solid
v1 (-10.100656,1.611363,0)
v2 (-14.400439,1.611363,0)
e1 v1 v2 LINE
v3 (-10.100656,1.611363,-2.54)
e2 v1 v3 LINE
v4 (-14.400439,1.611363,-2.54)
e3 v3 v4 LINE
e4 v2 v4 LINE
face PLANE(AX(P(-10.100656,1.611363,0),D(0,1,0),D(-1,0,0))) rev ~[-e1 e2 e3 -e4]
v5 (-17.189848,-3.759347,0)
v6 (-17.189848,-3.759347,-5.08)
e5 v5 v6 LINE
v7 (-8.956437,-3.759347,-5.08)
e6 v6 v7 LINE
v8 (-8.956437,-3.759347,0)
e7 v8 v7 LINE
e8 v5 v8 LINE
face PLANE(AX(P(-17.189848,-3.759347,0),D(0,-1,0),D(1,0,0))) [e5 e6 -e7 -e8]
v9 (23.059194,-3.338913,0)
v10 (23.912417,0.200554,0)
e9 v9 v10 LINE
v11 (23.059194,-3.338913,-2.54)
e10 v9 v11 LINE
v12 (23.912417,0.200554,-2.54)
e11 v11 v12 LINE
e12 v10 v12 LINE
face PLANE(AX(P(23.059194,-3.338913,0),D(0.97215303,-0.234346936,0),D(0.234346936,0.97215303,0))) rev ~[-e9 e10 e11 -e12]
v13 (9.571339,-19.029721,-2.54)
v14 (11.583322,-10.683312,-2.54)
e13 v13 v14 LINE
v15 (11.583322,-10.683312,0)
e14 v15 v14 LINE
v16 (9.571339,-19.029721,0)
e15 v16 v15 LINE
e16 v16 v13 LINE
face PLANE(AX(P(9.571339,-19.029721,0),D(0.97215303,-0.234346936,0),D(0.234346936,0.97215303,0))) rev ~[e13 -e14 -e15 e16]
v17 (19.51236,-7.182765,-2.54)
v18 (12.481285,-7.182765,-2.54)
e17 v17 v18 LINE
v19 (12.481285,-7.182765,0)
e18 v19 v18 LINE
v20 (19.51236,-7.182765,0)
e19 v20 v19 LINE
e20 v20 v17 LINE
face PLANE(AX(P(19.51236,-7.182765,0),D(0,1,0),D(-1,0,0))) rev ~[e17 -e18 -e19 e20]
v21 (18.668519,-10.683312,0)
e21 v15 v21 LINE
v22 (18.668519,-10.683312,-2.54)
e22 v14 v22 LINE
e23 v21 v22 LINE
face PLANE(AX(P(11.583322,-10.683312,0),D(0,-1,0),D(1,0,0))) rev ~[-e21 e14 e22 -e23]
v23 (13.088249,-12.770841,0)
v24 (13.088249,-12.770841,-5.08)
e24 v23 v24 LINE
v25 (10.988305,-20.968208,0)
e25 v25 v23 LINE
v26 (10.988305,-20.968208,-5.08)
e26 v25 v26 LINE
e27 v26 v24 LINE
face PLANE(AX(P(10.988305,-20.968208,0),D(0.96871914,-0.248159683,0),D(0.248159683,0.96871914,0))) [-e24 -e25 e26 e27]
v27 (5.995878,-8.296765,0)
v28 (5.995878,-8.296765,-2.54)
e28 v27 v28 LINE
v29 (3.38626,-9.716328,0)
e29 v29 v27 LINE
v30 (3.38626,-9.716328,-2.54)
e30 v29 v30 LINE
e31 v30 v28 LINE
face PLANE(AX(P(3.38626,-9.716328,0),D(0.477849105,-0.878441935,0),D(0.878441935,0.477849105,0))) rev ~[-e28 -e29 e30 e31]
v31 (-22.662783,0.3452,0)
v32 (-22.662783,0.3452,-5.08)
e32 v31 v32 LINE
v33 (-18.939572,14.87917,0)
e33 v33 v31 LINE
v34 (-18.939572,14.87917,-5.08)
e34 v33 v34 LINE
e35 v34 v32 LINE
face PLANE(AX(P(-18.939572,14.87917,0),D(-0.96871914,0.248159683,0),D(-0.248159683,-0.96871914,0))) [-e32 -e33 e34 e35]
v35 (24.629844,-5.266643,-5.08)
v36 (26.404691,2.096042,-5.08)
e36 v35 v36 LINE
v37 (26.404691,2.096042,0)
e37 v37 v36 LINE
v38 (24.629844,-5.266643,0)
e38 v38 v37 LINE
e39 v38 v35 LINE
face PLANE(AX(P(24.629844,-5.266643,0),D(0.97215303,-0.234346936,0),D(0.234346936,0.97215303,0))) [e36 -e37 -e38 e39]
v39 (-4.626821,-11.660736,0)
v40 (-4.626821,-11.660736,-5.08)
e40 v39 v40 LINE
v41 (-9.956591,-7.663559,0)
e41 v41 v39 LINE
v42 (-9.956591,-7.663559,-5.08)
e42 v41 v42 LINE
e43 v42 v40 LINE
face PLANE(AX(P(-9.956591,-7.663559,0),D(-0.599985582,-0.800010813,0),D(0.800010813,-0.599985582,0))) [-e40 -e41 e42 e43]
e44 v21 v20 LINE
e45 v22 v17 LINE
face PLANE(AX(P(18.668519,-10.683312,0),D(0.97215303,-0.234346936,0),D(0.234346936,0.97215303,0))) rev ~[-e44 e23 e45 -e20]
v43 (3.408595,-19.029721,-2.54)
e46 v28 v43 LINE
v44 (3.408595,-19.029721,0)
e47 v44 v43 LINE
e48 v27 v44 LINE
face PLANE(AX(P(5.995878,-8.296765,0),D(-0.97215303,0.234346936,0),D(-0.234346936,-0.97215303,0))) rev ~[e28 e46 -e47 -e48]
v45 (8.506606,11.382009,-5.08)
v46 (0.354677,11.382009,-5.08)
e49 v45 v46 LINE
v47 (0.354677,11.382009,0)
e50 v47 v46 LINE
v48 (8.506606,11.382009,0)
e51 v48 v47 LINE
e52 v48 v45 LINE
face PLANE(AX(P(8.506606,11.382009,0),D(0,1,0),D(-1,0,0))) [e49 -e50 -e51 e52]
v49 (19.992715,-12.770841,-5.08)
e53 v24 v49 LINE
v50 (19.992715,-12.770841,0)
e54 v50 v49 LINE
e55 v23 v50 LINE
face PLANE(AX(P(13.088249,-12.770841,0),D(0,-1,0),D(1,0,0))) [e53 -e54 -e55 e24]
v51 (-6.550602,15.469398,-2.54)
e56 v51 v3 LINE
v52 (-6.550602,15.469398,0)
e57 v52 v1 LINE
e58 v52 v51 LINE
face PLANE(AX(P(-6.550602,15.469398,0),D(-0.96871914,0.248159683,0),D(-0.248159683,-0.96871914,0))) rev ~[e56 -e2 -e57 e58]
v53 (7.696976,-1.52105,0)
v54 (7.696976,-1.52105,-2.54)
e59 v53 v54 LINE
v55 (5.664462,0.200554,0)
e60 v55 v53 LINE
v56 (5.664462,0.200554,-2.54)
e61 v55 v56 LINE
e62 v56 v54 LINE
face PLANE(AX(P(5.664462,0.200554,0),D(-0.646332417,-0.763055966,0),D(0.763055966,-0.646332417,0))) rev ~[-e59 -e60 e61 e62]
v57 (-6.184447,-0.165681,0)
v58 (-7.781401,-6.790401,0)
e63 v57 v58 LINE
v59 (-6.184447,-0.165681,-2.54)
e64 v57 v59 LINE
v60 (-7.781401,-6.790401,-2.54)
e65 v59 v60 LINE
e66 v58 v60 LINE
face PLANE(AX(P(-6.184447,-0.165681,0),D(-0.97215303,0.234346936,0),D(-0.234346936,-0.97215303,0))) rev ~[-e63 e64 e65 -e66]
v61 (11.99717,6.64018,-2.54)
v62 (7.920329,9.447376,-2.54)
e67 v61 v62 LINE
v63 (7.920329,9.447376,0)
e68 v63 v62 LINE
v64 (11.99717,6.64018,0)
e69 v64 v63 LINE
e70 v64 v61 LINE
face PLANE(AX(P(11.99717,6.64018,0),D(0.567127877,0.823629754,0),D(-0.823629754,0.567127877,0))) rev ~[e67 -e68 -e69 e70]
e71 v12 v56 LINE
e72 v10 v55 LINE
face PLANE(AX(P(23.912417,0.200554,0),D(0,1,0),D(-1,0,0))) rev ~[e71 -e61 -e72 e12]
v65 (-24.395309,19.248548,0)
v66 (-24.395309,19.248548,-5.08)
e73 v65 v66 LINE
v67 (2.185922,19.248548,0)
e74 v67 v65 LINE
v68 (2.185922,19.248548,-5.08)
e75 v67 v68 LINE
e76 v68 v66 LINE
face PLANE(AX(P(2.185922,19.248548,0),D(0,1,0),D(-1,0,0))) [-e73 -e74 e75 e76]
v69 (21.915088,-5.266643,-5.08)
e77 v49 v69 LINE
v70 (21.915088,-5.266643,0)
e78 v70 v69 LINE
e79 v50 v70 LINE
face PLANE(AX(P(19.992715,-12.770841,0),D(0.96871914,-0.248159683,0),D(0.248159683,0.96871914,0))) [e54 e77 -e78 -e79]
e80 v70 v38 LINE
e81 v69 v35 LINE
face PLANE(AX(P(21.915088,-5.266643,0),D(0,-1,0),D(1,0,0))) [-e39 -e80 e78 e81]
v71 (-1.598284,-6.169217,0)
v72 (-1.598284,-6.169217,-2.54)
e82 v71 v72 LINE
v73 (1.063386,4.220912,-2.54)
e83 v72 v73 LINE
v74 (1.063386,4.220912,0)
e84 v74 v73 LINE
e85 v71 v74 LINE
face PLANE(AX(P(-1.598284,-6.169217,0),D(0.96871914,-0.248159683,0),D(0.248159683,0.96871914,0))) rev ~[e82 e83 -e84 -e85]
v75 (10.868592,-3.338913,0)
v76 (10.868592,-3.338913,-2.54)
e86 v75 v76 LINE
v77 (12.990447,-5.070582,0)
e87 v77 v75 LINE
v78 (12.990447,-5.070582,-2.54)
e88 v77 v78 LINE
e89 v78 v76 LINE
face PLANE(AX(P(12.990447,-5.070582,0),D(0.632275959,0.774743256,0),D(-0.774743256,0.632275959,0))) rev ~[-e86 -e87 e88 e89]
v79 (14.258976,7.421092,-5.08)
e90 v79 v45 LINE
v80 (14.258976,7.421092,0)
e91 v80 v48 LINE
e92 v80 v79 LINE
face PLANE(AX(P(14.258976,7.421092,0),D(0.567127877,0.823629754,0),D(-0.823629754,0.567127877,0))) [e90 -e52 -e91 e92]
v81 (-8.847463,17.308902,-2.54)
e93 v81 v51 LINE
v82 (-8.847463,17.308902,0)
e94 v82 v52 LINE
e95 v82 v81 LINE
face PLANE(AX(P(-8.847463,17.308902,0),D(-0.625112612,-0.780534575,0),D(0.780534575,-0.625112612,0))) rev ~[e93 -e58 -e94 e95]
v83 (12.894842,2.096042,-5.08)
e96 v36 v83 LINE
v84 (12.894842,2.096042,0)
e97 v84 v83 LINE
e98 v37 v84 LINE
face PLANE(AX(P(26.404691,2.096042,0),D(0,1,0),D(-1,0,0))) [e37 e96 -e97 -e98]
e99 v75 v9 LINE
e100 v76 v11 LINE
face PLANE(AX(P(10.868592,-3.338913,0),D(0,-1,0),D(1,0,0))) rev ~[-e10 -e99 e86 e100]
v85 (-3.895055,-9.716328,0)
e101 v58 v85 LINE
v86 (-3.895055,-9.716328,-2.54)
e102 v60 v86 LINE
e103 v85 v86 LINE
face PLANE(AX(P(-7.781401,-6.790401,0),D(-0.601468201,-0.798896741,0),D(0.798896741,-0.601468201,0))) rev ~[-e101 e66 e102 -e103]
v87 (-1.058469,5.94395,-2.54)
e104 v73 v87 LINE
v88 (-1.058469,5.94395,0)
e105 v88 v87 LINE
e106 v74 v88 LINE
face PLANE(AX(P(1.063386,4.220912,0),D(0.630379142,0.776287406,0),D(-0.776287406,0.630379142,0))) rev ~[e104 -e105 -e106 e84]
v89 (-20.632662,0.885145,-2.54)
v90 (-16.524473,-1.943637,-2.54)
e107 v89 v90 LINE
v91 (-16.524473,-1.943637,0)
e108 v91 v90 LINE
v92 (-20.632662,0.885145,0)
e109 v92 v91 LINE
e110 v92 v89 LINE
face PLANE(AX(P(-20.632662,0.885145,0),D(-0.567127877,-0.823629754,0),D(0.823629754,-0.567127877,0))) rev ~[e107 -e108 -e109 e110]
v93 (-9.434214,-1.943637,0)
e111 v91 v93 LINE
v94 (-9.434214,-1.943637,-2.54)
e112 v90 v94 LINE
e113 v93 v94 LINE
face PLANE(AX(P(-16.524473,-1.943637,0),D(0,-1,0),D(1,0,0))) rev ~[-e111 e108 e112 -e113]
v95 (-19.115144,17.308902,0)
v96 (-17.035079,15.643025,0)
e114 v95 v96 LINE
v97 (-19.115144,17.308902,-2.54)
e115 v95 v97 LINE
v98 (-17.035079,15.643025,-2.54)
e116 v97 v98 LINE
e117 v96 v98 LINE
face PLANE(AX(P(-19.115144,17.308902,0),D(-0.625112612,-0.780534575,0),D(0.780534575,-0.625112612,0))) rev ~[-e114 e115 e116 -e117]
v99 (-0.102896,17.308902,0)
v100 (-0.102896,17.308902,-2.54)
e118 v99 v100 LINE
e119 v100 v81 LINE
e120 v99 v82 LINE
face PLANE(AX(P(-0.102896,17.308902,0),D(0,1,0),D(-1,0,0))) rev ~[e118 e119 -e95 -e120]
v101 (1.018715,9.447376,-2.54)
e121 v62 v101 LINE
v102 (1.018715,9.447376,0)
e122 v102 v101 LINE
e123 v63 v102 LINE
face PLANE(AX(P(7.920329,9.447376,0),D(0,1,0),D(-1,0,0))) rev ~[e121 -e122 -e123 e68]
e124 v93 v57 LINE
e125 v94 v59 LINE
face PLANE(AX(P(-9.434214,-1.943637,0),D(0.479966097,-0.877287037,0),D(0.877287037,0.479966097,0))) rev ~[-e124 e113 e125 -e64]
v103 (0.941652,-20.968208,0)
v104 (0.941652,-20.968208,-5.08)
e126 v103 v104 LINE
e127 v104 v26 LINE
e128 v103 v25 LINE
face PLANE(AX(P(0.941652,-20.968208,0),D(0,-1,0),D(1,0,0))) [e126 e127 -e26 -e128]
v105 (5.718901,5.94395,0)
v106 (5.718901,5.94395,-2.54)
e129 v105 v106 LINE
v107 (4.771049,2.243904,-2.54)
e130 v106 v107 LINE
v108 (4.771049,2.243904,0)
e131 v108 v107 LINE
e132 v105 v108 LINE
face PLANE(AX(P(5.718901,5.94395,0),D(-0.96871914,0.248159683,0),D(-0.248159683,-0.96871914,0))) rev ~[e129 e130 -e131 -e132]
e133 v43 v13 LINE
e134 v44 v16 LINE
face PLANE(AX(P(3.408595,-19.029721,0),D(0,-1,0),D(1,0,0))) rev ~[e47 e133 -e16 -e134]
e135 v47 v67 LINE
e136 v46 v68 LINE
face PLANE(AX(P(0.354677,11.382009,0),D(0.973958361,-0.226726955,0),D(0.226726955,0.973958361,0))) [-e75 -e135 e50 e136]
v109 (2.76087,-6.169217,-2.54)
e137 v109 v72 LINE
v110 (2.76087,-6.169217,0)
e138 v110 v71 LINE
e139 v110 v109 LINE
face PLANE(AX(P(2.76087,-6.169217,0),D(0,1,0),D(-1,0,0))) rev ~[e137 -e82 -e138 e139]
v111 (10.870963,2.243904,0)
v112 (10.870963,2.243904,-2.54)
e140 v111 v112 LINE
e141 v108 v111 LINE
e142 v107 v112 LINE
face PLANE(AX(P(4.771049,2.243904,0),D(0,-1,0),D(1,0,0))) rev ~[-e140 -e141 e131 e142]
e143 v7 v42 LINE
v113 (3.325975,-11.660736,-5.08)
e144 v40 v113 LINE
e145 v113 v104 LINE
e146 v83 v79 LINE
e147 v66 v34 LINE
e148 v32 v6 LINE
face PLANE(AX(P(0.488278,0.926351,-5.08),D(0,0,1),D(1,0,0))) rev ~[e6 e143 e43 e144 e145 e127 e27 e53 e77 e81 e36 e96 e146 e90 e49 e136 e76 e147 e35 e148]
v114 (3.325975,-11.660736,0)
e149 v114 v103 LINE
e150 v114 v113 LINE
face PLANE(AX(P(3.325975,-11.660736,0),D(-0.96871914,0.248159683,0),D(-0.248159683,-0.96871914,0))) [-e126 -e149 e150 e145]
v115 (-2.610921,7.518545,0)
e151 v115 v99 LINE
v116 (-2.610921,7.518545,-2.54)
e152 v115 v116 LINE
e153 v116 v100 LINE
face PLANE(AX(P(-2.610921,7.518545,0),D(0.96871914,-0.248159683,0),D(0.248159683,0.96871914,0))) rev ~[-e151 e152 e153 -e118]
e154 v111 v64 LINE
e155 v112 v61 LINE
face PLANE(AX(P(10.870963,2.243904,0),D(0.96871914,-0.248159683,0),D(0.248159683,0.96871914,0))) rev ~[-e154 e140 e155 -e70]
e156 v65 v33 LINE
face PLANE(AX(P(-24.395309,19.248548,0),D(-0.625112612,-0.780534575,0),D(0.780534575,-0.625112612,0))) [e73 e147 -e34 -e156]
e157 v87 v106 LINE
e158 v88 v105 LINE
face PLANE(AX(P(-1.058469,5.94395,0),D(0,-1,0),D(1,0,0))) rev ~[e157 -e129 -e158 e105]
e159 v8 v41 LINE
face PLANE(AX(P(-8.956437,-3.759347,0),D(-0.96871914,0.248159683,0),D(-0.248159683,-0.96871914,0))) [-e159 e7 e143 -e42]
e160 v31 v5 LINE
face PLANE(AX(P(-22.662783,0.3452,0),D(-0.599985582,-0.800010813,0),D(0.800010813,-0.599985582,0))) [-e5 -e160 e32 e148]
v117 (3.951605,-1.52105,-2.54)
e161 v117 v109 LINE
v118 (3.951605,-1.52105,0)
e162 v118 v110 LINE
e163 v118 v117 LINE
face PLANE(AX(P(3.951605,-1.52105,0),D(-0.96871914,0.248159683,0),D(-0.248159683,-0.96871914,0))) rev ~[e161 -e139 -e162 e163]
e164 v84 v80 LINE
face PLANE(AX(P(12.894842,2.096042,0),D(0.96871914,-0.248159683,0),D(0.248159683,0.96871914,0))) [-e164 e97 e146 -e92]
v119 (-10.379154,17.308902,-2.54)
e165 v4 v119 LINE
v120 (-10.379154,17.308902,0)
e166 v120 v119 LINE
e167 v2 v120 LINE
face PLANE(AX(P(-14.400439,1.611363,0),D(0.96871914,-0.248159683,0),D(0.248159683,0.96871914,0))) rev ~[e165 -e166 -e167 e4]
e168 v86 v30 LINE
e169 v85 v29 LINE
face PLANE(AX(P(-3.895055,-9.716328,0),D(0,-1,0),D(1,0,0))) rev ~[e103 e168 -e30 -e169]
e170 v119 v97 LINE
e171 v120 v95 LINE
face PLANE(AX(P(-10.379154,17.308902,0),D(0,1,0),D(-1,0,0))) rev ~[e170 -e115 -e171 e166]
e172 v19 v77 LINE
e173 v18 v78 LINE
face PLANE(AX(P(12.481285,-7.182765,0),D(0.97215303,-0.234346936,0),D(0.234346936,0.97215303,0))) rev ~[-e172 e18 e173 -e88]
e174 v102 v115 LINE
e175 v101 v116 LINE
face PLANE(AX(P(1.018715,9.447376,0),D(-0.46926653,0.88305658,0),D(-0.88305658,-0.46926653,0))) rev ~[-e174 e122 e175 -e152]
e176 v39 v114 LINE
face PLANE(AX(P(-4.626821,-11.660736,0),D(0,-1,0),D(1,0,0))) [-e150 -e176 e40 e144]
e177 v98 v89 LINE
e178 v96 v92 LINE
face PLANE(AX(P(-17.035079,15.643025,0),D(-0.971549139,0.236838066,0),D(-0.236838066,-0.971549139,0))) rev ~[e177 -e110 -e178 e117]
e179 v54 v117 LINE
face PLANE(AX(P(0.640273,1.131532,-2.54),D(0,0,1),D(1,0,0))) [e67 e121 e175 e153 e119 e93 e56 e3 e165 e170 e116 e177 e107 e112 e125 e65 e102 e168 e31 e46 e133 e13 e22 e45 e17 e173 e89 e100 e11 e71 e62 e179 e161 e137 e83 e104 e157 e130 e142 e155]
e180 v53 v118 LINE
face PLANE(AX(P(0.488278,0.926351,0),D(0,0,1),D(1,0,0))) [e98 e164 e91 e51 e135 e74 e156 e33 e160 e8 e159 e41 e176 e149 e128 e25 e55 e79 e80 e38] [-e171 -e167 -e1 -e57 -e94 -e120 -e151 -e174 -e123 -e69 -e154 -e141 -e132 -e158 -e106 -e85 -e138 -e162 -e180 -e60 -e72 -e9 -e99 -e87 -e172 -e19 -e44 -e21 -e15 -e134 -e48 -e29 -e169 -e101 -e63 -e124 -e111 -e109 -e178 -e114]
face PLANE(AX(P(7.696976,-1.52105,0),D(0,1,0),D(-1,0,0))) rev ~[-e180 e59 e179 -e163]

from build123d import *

# Parameters (mm, degrees)
F1_DEPTH = 5.08
F2_DEPTH = 2.54


with BuildPart() as f1:
    # F0 (on Top) → F1 (new body)
    with BuildSketch(Plane.XY):
        Polygon((2.1859223297, 19.248547896), (-24.3953090747, 19.248547896), (-18.9395717811, 14.8791704217), (-22.6627825954, 0.3451996698), (-17.1898484699, -3.7593468121), (-8.9564369545, -3.7593468121), (-9.9565906694, -7.6635589463), (-4.6268214747, -11.6607357615), (3.3259746574, -11.6607357615), (0.9416517448, -20.9682075121), (10.988304789, -20.9682075121), (13.0882485999, -12.7708414613), (19.9927147226, -12.7708414613), (21.9150878042, -5.2666426563), (24.6298443066, -5.2666426563), (26.4046909253, 2.0960416775), (12.8948415761, 2.0960416775), (14.2589756145, 7.4210918036), (8.5066062772, 11.382008699), (0.3546772284, 11.382008699), align=None)
        Polygon((-20.6326617241, 0.8851447814), (-17.0350794991, 15.643025438), (-19.1151439831, 17.3089023695), (-10.3791536142, 17.3089023695), (-14.4004393661, 1.6113626868), (-10.1006558786, 1.6113626868), (-6.550601553, 15.469397676), (-8.847462929, 17.3089023695), (-0.1028961172, 17.3089023695), (-2.6109213046, 7.5185449236), (1.0187151687, 9.4473759333), (7.9203285277, 9.4473759333), (11.997169684, 6.6401797905), (10.8709626259, 2.2439043015), (4.7710491344, 2.2439043015), (5.7189009901, 5.9439502658), (-1.0584690608, 5.9439502658), (1.063386056, 4.2209116121), (-1.5982844269, -6.1692174671), (2.7608703822, -6.1692174671), (3.9516054808, -1.521049539), (7.6969756434, -1.521049539), (5.6644616028, 0.2005538166), (23.9124173919, 0.2005538166), (23.0591944391, -3.3389133138), (10.8685915669, -3.3389133138), (12.9904473821, -5.0705817218), (12.4812849915, -7.1827653424), (19.5123602947, -7.1827653424), (18.668519463, -10.6833121536), (11.5833220383, -10.6833121536), (9.571338977, -19.0297213635), (3.4085946778, -19.0297213635), (5.9958781117, -8.2967650591), (3.3862596999, -9.7163282335), (-3.8950548818, -9.7163282335), (-7.7814006557, -6.790401414), (-6.184447335, -0.1656806791), (-9.4342138618, -1.9436366856), (-16.5244725843, -1.9436366856), align=None, mode=Mode.SUBTRACT)
        Polygon((-19.1151439831, 17.3089023695), (-17.0350794991, 15.643025438), (-20.6326617241, 0.8851447814), (-16.5244725843, -1.9436366856), (-9.4342138618, -1.9436366856), (-6.184447335, -0.1656806791), (-7.7814006557, -6.790401414), (-3.8950548818, -9.7163282335), (3.3862596999, -9.7163282335), (5.9958781117, -8.2967650591), (3.4085946778, -19.0297213635), (9.571338977, -19.0297213635), (11.5833220383, -10.6833121536), (18.668519463, -10.6833121536), (19.5123602947, -7.1827653424), (12.4812849915, -7.1827653424), (12.9904473821, -5.0705817218), (10.8685915669, -3.3389133138), (23.0591944391, -3.3389133138), (23.9124173919, 0.2005538166), (5.6644616028, 0.2005538166), (7.6969756434, -1.521049539), (3.9516054808, -1.521049539), (2.7608703822, -6.1692174671), (-1.5982844269, -6.1692174671), (1.063386056, 4.2209116121), (-1.0584690608, 5.9439502658), (5.7189009901, 5.9439502658), (4.7710491344, 2.2439043015), (10.8709626259, 2.2439043015), (11.997169684, 6.6401797905), (7.9203285277, 9.4473759333), (1.0187151687, 9.4473759333), (-2.6109213046, 7.5185449236), (-0.1028961172, 17.3089023695), (-8.847462929, 17.3089023695), (-6.550601553, 15.469397676), (-10.1006558786, 1.6113626868), (-14.4004393661, 1.6113626868), (-10.3791536142, 17.3089023695), align=None)
        Polygon((-1.4470629355, 6.2614502658), (-1.7529480132, 6.0988993801), (0.7053412177, 4.1026615912), (-2.007371729, -6.4867174671), (3.0072878326, -6.4867174671), (4.1980229312, -1.838549539), (8.4534338099, -1.838549539), (8.4722807786, -1.7616673308), (6.530533387, -0.1169461834), (23.509286259, -0.1169461834), (22.8091362278, -3.0214133138), (9.9773968665, -3.0214133138), (12.6349923897, -5.1903044212), (12.0781538585, -7.5002653424), (19.1092291617, -7.5002653424), (18.4184612518, -10.3658121536), (11.333263827, -10.3658121536), (9.3212807658, -18.7122213635), (3.8117258108, -18.7122213635), (6.4720393651, -7.6763105851), (3.305492183, -9.3988282335), (-3.788897508, -9.3988282335), (-7.4238874577, -6.662140558), (-5.7077402086, 0.4570382668), (-9.5153891072, -1.6261366856), (-16.4257337365, -1.6261366856), (-20.2723691619, 1.0225463793), (-16.6786986539, 15.7643805222), (-18.2107953637, 16.9914023695), (-10.7882409164, 16.9914023695), (-14.8095266683, 1.2938626868), (-9.8542384282, 1.2938626868), (-6.1921799664, 15.5891183762), (-7.9431143096, 16.9914023695), (-0.5119834194, 16.9914023695), (-3.0969436407, 6.9007203948), (1.0978376576, 9.1298759333), (7.8215896798, 9.1298759333), (11.6346173395, 6.5043342141), (10.6245451755, 2.5614043015), (5.1801364366, 2.5614043015), (6.1279882922, 6.2614502658), align=None, mode=Mode.SUBTRACT)
        Polygon((-5.9958964755, -7.1322803998), (-6.8447431549, -6.4807981253), (-3.836085248, 6.0001668234), (1.1804265973, 8.6659995258), (7.5871106237, 8.6659995258), (8.8139669276, 7.8212213871), (1.4880838571, 7.8212213871), (-1.4470629355, 6.2614502658), (6.1279882922, 6.2614502658), (5.1801364366, 2.5614043015), (10.6245451755, 2.5614043015), (11.6346173395, 6.5043342141), (7.8215896798, 9.1298759333), (1.0978376576, 9.1298759333), (-3.0969436407, 6.9007203948), (-0.5119834194, 16.9914023695), (-7.9431143096, 16.9914023695), (-6.1921799664, 15.5891183762), (-9.8542384282, 1.2938626868), (-14.8095266683, 1.2938626868), (-10.7882409164, 16.9914023695), (-18.2107953637, 16.9914023695), (-16.6786986539, 15.7643805222), (-20.2723691619, 1.0225463793), (-16.4257337365, -1.6261366856), (-9.5153891072, -1.6261366856), (-5.7077402086, 0.4570382668), (-7.4238874577, -6.662140558), (-3.788897508, -9.3988282335), (3.305492183, -9.3988282335), (6.4720393651, -7.6763105851), (3.8117258108, -18.7122213635), (9.3212807658, -18.7122213635), (11.333263827, -10.3658121536), (18.4184612518, -10.3658121536), (19.1092291617, -7.5002653424), (12.0781538585, -7.5002653424), (12.6349923897, -5.1903044212), (9.9773968665, -3.0214133138), (22.8091362278, -3.0214133138), (23.509286259, -0.1169461834), (6.530533387, -0.1169461834), (8.4722807786, -1.7616673308), (8.6163925007, -1.1737941531), (7.9285055295, -0.7001348718), (22.8997431695, -0.7001348718), (22.7018537103, -1.521049539), (9.492916055, -1.521049539), (5.4628625857, -18.2391204024), (4.4329841621, -18.2391204024), (8.4534338099, -1.838549539), (4.1980229312, -1.838549539), (3.0072878326, -6.4867174671), (-2.007371729, -6.4867174671), (0.7053412177, 4.1026615912), (-1.7529480132, 6.0988993801), (-2.9611672112, 5.456837655), align=None)
        Polygon((-1.8931780942, -7.869553083), (-1.6672882484, -6.9988858886), (3.3901352435, -6.9988858886), (4.5163077443, -2.3271285994), (7.2051645257, -2.3271285994), (6.9932386076, -3.2062714054), (5.2349027246, -3.2062714054), (4.1107733525, -7.869553083), align=None, mode=Mode.SUBTRACT)
        Polygon((12.0627228171, -8.8622216706), (12.3017746955, -7.946931757), (18.4374414384, -7.946931757), (18.2168019088, -8.8622216706), align=None, mode=Mode.SUBTRACT)
        Polygon((-18.894339994, 0.7209487154), (-19.6556132287, 1.3443980133), (-16.0978934319, 15.9387563591), (-16.7280736738, 16.4434535624), (-11.4680863917, 16.4434535624), (-11.6794740259, 15.5763063276), (-15.2729954571, 15.5763063276), align=None, mode=Mode.SUBTRACT)
        Polygon((-14.4821710257, 0.8135896642), (-9.4944098964, 0.8135896642), (-5.6433276886, 15.8467207341), (-6.5030540089, 16.5352562364), (-1.1275938014, 16.5352562364), (-1.3768279931, 15.5623426319), (-4.9125822261, 15.5623426319), (-8.9262763228, -0.1055621736), (-14.7176329046, -0.1055621736), align=None, mode=Mode.SUBTRACT)
        Polygon((5.8288373984, 2.9955036685), (6.5831555985, 5.9439502658), (7.4867149815, 5.9439502658), (6.7759632724, 2.9955036685), align=None, mode=Mode.SUBTRACT)
        Polygon((8.4722807786, -1.7616673308), (8.4534338099, -1.838549539), (4.4329841621, -18.2391204024), (5.4628625857, -18.2391204024), (9.492916055, -1.521049539), (22.7018537103, -1.521049539), (22.8997431695, -0.7001348718), (7.9285055295, -0.7001348718), (8.6163925007, -1.1737941531), align=None)
        Polygon((-3.836085248, 6.0001668234), (-6.8447431549, -6.4807981253), (-5.9958964755, -7.1322803998), (-2.9611672112, 5.456837655), (-1.7529480132, 6.0988993801), (-1.9531231096, 6.2614502658), (-1.4470629355, 6.2614502658), (1.4880838571, 7.8212213871), (8.8139669276, 7.8212213871), (7.5871106237, 8.6659995258), (1.1804265973, 8.6659995258), align=None)
        Polygon((-5.6433276886, 15.8467207341), (-9.4944098964, 0.8135896642), (-14.4821710257, 0.8135896642), (-14.7176329046, -0.1055621736), (-8.9262763228, -0.1055621736), (-4.9125822261, 15.5623426319), (-1.3768279931, 15.5623426319), (-1.1275938014, 16.5352562364), (-6.5030540089, 16.5352562364), align=None)
        Polygon((-16.0978934319, 15.9387563591), (-19.6556132287, 1.3443980133), (-18.894339994, 0.7209487154), (-15.2729954571, 15.5763063276), (-11.6794740259, 15.5763063276), (-11.4680863917, 16.4434535624), (-16.7280736738, 16.4434535624), align=None)
        Polygon((3.3901352435, -6.9988858886), (-1.6672882484, -6.9988858886), (-1.8931780942, -7.869553083), (4.1107733525, -7.869553083), (5.2349027246, -3.2062714054), (6.9932386076, -3.2062714054), (7.2051645257, -2.3271285994), (4.5163077443, -2.3271285994), align=None)
        Polygon((18.4374414384, -7.946931757), (12.3017746955, -7.946931757), (12.0627228171, -8.8622216706), (18.2168019088, -8.8622216706), align=None)
        Polygon((7.4867149815, 5.9439502658), (6.5831555985, 5.9439502658), (5.8288373984, 2.9955036685), (6.7759632724, 2.9955036685), align=None)
        Polygon((-1.9531231096, 6.2614502658), (-1.7529480132, 6.0988993801), (-1.4470629355, 6.2614502658), align=None)
    extrude(amount=-F1_DEPTH)

    # F0 (on Top) → F2 (cut)
    with BuildSketch(Plane.XY):
        Polygon((-19.1151439831, 17.3089023695), (-17.0350794991, 15.643025438), (-20.6326617241, 0.8851447814), (-16.5244725843, -1.9436366856), (-9.4342138618, -1.9436366856), (-6.184447335, -0.1656806791), (-7.7814006557, -6.790401414), (-3.8950548818, -9.7163282335), (3.3862596999, -9.7163282335), (5.9958781117, -8.2967650591), (3.4085946778, -19.0297213635), (9.571338977, -19.0297213635), (11.5833220383, -10.6833121536), (18.668519463, -10.6833121536), (19.5123602947, -7.1827653424), (12.4812849915, -7.1827653424), (12.9904473821, -5.0705817218), (10.8685915669, -3.3389133138), (23.0591944391, -3.3389133138), (23.9124173919, 0.2005538166), (5.6644616028, 0.2005538166), (7.6969756434, -1.521049539), (3.9516054808, -1.521049539), (2.7608703822, -6.1692174671), (-1.5982844269, -6.1692174671), (1.063386056, 4.2209116121), (-1.0584690608, 5.9439502658), (5.7189009901, 5.9439502658), (4.7710491344, 2.2439043015), (10.8709626259, 2.2439043015), (11.997169684, 6.6401797905), (7.9203285277, 9.4473759333), (1.0187151687, 9.4473759333), (-2.6109213046, 7.5185449236), (-0.1028961172, 17.3089023695), (-8.847462929, 17.3089023695), (-6.550601553, 15.469397676), (-10.1006558786, 1.6113626868), (-14.4004393661, 1.6113626868), (-10.3791536142, 17.3089023695), align=None)
        Polygon((-1.4470629355, 6.2614502658), (-1.7529480132, 6.0988993801), (0.7053412177, 4.1026615912), (-2.007371729, -6.4867174671), (3.0072878326, -6.4867174671), (4.1980229312, -1.838549539), (8.4534338099, -1.838549539), (8.4722807786, -1.7616673308), (6.530533387, -0.1169461834), (23.509286259, -0.1169461834), (22.8091362278, -3.0214133138), (9.9773968665, -3.0214133138), (12.6349923897, -5.1903044212), (12.0781538585, -7.5002653424), (19.1092291617, -7.5002653424), (18.4184612518, -10.3658121536), (11.333263827, -10.3658121536), (9.3212807658, -18.7122213635), (3.8117258108, -18.7122213635), (6.4720393651, -7.6763105851), (3.305492183, -9.3988282335), (-3.788897508, -9.3988282335), (-7.4238874577, -6.662140558), (-5.7077402086, 0.4570382668), (-9.5153891072, -1.6261366856), (-16.4257337365, -1.6261366856), (-20.2723691619, 1.0225463793), (-16.6786986539, 15.7643805222), (-18.2107953637, 16.9914023695), (-10.7882409164, 16.9914023695), (-14.8095266683, 1.2938626868), (-9.8542384282, 1.2938626868), (-6.1921799664, 15.5891183762), (-7.9431143096, 16.9914023695), (-0.5119834194, 16.9914023695), (-3.0969436407, 6.9007203948), (1.0978376576, 9.1298759333), (7.8215896798, 9.1298759333), (11.6346173395, 6.5043342141), (10.6245451755, 2.5614043015), (5.1801364366, 2.5614043015), (6.1279882922, 6.2614502658), align=None, mode=Mode.SUBTRACT)
        Polygon((-5.9958964755, -7.1322803998), (-6.8447431549, -6.4807981253), (-3.836085248, 6.0001668234), (1.1804265973, 8.6659995258), (7.5871106237, 8.6659995258), (8.8139669276, 7.8212213871), (1.4880838571, 7.8212213871), (-1.4470629355, 6.2614502658), (6.1279882922, 6.2614502658), (5.1801364366, 2.5614043015), (10.6245451755, 2.5614043015), (11.6346173395, 6.5043342141), (7.8215896798, 9.1298759333), (1.0978376576, 9.1298759333), (-3.0969436407, 6.9007203948), (-0.5119834194, 16.9914023695), (-7.9431143096, 16.9914023695), (-6.1921799664, 15.5891183762), (-9.8542384282, 1.2938626868), (-14.8095266683, 1.2938626868), (-10.7882409164, 16.9914023695), (-18.2107953637, 16.9914023695), (-16.6786986539, 15.7643805222), (-20.2723691619, 1.0225463793), (-16.4257337365, -1.6261366856), (-9.5153891072, -1.6261366856), (-5.7077402086, 0.4570382668), (-7.4238874577, -6.662140558), (-3.788897508, -9.3988282335), (3.305492183, -9.3988282335), (6.4720393651, -7.6763105851), (3.8117258108, -18.7122213635), (9.3212807658, -18.7122213635), (11.333263827, -10.3658121536), (18.4184612518, -10.3658121536), (19.1092291617, -7.5002653424), (12.0781538585, -7.5002653424), (12.6349923897, -5.1903044212), (9.9773968665, -3.0214133138), (22.8091362278, -3.0214133138), (23.509286259, -0.1169461834), (6.530533387, -0.1169461834), (8.4722807786, -1.7616673308), (8.6163925007, -1.1737941531), (7.9285055295, -0.7001348718), (22.8997431695, -0.7001348718), (22.7018537103, -1.521049539), (9.492916055, -1.521049539), (5.4628625857, -18.2391204024), (4.4329841621, -18.2391204024), (8.4534338099, -1.838549539), (4.1980229312, -1.838549539), (3.0072878326, -6.4867174671), (-2.007371729, -6.4867174671), (0.7053412177, 4.1026615912), (-1.7529480132, 6.0988993801), (-2.9611672112, 5.456837655), align=None)
        Polygon((-1.8931780942, -7.869553083), (-1.6672882484, -6.9988858886), (3.3901352435, -6.9988858886), (4.5163077443, -2.3271285994), (7.2051645257, -2.3271285994), (6.9932386076, -3.2062714054), (5.2349027246, -3.2062714054), (4.1107733525, -7.869553083), align=None, mode=Mode.SUBTRACT)
        Polygon((12.0627228171, -8.8622216706), (12.3017746955, -7.946931757), (18.4374414384, -7.946931757), (18.2168019088, -8.8622216706), align=None, mode=Mode.SUBTRACT)
        Polygon((-18.894339994, 0.7209487154), (-19.6556132287, 1.3443980133), (-16.0978934319, 15.9387563591), (-16.7280736738, 16.4434535624), (-11.4680863917, 16.4434535624), (-11.6794740259, 15.5763063276), (-15.2729954571, 15.5763063276), align=None, mode=Mode.SUBTRACT)
        Polygon((-14.4821710257, 0.8135896642), (-9.4944098964, 0.8135896642), (-5.6433276886, 15.8467207341), (-6.5030540089, 16.5352562364), (-1.1275938014, 16.5352562364), (-1.3768279931, 15.5623426319), (-4.9125822261, 15.5623426319), (-8.9262763228, -0.1055621736), (-14.7176329046, -0.1055621736), align=None, mode=Mode.SUBTRACT)
        Polygon((5.8288373984, 2.9955036685), (6.5831555985, 5.9439502658), (7.4867149815, 5.9439502658), (6.7759632724, 2.9955036685), align=None, mode=Mode.SUBTRACT)
        Polygon((8.4722807786, -1.7616673308), (8.4534338099, -1.838549539), (4.4329841621, -18.2391204024), (5.4628625857, -18.2391204024), (9.492916055, -1.521049539), (22.7018537103, -1.521049539), (22.8997431695, -0.7001348718), (7.9285055295, -0.7001348718), (8.6163925007, -1.1737941531), align=None)
        Polygon((-3.836085248, 6.0001668234), (-6.8447431549, -6.4807981253), (-5.9958964755, -7.1322803998), (-2.9611672112, 5.456837655), (-1.7529480132, 6.0988993801), (-1.9531231096, 6.2614502658), (-1.4470629355, 6.2614502658), (1.4880838571, 7.8212213871), (8.8139669276, 7.8212213871), (7.5871106237, 8.6659995258), (1.1804265973, 8.6659995258), align=None)
        Polygon((-5.6433276886, 15.8467207341), (-9.4944098964, 0.8135896642), (-14.4821710257, 0.8135896642), (-14.7176329046, -0.1055621736), (-8.9262763228, -0.1055621736), (-4.9125822261, 15.5623426319), (-1.3768279931, 15.5623426319), (-1.1275938014, 16.5352562364), (-6.5030540089, 16.5352562364), align=None)
        Polygon((-16.0978934319, 15.9387563591), (-19.6556132287, 1.3443980133), (-18.894339994, 0.7209487154), (-15.2729954571, 15.5763063276), (-11.6794740259, 15.5763063276), (-11.4680863917, 16.4434535624), (-16.7280736738, 16.4434535624), align=None)
        Polygon((3.3901352435, -6.9988858886), (-1.6672882484, -6.9988858886), (-1.8931780942, -7.869553083), (4.1107733525, -7.869553083), (5.2349027246, -3.2062714054), (6.9932386076, -3.2062714054), (7.2051645257, -2.3271285994), (4.5163077443, -2.3271285994), align=None)
        Polygon((18.4374414384, -7.946931757), (12.3017746955, -7.946931757), (12.0627228171, -8.8622216706), (18.2168019088, -8.8622216706), align=None)
        Polygon((7.4867149815, 5.9439502658), (6.5831555985, 5.9439502658), (5.8288373984, 2.9955036685), (6.7759632724, 2.9955036685), align=None)
        Polygon((-1.9531231096, 6.2614502658), (-1.7529480132, 6.0988993801), (-1.4470629355, 6.2614502658), align=None)
    extrude(amount=-F2_DEPTH, mode=Mode.SUBTRACT)


solid = f1.part
